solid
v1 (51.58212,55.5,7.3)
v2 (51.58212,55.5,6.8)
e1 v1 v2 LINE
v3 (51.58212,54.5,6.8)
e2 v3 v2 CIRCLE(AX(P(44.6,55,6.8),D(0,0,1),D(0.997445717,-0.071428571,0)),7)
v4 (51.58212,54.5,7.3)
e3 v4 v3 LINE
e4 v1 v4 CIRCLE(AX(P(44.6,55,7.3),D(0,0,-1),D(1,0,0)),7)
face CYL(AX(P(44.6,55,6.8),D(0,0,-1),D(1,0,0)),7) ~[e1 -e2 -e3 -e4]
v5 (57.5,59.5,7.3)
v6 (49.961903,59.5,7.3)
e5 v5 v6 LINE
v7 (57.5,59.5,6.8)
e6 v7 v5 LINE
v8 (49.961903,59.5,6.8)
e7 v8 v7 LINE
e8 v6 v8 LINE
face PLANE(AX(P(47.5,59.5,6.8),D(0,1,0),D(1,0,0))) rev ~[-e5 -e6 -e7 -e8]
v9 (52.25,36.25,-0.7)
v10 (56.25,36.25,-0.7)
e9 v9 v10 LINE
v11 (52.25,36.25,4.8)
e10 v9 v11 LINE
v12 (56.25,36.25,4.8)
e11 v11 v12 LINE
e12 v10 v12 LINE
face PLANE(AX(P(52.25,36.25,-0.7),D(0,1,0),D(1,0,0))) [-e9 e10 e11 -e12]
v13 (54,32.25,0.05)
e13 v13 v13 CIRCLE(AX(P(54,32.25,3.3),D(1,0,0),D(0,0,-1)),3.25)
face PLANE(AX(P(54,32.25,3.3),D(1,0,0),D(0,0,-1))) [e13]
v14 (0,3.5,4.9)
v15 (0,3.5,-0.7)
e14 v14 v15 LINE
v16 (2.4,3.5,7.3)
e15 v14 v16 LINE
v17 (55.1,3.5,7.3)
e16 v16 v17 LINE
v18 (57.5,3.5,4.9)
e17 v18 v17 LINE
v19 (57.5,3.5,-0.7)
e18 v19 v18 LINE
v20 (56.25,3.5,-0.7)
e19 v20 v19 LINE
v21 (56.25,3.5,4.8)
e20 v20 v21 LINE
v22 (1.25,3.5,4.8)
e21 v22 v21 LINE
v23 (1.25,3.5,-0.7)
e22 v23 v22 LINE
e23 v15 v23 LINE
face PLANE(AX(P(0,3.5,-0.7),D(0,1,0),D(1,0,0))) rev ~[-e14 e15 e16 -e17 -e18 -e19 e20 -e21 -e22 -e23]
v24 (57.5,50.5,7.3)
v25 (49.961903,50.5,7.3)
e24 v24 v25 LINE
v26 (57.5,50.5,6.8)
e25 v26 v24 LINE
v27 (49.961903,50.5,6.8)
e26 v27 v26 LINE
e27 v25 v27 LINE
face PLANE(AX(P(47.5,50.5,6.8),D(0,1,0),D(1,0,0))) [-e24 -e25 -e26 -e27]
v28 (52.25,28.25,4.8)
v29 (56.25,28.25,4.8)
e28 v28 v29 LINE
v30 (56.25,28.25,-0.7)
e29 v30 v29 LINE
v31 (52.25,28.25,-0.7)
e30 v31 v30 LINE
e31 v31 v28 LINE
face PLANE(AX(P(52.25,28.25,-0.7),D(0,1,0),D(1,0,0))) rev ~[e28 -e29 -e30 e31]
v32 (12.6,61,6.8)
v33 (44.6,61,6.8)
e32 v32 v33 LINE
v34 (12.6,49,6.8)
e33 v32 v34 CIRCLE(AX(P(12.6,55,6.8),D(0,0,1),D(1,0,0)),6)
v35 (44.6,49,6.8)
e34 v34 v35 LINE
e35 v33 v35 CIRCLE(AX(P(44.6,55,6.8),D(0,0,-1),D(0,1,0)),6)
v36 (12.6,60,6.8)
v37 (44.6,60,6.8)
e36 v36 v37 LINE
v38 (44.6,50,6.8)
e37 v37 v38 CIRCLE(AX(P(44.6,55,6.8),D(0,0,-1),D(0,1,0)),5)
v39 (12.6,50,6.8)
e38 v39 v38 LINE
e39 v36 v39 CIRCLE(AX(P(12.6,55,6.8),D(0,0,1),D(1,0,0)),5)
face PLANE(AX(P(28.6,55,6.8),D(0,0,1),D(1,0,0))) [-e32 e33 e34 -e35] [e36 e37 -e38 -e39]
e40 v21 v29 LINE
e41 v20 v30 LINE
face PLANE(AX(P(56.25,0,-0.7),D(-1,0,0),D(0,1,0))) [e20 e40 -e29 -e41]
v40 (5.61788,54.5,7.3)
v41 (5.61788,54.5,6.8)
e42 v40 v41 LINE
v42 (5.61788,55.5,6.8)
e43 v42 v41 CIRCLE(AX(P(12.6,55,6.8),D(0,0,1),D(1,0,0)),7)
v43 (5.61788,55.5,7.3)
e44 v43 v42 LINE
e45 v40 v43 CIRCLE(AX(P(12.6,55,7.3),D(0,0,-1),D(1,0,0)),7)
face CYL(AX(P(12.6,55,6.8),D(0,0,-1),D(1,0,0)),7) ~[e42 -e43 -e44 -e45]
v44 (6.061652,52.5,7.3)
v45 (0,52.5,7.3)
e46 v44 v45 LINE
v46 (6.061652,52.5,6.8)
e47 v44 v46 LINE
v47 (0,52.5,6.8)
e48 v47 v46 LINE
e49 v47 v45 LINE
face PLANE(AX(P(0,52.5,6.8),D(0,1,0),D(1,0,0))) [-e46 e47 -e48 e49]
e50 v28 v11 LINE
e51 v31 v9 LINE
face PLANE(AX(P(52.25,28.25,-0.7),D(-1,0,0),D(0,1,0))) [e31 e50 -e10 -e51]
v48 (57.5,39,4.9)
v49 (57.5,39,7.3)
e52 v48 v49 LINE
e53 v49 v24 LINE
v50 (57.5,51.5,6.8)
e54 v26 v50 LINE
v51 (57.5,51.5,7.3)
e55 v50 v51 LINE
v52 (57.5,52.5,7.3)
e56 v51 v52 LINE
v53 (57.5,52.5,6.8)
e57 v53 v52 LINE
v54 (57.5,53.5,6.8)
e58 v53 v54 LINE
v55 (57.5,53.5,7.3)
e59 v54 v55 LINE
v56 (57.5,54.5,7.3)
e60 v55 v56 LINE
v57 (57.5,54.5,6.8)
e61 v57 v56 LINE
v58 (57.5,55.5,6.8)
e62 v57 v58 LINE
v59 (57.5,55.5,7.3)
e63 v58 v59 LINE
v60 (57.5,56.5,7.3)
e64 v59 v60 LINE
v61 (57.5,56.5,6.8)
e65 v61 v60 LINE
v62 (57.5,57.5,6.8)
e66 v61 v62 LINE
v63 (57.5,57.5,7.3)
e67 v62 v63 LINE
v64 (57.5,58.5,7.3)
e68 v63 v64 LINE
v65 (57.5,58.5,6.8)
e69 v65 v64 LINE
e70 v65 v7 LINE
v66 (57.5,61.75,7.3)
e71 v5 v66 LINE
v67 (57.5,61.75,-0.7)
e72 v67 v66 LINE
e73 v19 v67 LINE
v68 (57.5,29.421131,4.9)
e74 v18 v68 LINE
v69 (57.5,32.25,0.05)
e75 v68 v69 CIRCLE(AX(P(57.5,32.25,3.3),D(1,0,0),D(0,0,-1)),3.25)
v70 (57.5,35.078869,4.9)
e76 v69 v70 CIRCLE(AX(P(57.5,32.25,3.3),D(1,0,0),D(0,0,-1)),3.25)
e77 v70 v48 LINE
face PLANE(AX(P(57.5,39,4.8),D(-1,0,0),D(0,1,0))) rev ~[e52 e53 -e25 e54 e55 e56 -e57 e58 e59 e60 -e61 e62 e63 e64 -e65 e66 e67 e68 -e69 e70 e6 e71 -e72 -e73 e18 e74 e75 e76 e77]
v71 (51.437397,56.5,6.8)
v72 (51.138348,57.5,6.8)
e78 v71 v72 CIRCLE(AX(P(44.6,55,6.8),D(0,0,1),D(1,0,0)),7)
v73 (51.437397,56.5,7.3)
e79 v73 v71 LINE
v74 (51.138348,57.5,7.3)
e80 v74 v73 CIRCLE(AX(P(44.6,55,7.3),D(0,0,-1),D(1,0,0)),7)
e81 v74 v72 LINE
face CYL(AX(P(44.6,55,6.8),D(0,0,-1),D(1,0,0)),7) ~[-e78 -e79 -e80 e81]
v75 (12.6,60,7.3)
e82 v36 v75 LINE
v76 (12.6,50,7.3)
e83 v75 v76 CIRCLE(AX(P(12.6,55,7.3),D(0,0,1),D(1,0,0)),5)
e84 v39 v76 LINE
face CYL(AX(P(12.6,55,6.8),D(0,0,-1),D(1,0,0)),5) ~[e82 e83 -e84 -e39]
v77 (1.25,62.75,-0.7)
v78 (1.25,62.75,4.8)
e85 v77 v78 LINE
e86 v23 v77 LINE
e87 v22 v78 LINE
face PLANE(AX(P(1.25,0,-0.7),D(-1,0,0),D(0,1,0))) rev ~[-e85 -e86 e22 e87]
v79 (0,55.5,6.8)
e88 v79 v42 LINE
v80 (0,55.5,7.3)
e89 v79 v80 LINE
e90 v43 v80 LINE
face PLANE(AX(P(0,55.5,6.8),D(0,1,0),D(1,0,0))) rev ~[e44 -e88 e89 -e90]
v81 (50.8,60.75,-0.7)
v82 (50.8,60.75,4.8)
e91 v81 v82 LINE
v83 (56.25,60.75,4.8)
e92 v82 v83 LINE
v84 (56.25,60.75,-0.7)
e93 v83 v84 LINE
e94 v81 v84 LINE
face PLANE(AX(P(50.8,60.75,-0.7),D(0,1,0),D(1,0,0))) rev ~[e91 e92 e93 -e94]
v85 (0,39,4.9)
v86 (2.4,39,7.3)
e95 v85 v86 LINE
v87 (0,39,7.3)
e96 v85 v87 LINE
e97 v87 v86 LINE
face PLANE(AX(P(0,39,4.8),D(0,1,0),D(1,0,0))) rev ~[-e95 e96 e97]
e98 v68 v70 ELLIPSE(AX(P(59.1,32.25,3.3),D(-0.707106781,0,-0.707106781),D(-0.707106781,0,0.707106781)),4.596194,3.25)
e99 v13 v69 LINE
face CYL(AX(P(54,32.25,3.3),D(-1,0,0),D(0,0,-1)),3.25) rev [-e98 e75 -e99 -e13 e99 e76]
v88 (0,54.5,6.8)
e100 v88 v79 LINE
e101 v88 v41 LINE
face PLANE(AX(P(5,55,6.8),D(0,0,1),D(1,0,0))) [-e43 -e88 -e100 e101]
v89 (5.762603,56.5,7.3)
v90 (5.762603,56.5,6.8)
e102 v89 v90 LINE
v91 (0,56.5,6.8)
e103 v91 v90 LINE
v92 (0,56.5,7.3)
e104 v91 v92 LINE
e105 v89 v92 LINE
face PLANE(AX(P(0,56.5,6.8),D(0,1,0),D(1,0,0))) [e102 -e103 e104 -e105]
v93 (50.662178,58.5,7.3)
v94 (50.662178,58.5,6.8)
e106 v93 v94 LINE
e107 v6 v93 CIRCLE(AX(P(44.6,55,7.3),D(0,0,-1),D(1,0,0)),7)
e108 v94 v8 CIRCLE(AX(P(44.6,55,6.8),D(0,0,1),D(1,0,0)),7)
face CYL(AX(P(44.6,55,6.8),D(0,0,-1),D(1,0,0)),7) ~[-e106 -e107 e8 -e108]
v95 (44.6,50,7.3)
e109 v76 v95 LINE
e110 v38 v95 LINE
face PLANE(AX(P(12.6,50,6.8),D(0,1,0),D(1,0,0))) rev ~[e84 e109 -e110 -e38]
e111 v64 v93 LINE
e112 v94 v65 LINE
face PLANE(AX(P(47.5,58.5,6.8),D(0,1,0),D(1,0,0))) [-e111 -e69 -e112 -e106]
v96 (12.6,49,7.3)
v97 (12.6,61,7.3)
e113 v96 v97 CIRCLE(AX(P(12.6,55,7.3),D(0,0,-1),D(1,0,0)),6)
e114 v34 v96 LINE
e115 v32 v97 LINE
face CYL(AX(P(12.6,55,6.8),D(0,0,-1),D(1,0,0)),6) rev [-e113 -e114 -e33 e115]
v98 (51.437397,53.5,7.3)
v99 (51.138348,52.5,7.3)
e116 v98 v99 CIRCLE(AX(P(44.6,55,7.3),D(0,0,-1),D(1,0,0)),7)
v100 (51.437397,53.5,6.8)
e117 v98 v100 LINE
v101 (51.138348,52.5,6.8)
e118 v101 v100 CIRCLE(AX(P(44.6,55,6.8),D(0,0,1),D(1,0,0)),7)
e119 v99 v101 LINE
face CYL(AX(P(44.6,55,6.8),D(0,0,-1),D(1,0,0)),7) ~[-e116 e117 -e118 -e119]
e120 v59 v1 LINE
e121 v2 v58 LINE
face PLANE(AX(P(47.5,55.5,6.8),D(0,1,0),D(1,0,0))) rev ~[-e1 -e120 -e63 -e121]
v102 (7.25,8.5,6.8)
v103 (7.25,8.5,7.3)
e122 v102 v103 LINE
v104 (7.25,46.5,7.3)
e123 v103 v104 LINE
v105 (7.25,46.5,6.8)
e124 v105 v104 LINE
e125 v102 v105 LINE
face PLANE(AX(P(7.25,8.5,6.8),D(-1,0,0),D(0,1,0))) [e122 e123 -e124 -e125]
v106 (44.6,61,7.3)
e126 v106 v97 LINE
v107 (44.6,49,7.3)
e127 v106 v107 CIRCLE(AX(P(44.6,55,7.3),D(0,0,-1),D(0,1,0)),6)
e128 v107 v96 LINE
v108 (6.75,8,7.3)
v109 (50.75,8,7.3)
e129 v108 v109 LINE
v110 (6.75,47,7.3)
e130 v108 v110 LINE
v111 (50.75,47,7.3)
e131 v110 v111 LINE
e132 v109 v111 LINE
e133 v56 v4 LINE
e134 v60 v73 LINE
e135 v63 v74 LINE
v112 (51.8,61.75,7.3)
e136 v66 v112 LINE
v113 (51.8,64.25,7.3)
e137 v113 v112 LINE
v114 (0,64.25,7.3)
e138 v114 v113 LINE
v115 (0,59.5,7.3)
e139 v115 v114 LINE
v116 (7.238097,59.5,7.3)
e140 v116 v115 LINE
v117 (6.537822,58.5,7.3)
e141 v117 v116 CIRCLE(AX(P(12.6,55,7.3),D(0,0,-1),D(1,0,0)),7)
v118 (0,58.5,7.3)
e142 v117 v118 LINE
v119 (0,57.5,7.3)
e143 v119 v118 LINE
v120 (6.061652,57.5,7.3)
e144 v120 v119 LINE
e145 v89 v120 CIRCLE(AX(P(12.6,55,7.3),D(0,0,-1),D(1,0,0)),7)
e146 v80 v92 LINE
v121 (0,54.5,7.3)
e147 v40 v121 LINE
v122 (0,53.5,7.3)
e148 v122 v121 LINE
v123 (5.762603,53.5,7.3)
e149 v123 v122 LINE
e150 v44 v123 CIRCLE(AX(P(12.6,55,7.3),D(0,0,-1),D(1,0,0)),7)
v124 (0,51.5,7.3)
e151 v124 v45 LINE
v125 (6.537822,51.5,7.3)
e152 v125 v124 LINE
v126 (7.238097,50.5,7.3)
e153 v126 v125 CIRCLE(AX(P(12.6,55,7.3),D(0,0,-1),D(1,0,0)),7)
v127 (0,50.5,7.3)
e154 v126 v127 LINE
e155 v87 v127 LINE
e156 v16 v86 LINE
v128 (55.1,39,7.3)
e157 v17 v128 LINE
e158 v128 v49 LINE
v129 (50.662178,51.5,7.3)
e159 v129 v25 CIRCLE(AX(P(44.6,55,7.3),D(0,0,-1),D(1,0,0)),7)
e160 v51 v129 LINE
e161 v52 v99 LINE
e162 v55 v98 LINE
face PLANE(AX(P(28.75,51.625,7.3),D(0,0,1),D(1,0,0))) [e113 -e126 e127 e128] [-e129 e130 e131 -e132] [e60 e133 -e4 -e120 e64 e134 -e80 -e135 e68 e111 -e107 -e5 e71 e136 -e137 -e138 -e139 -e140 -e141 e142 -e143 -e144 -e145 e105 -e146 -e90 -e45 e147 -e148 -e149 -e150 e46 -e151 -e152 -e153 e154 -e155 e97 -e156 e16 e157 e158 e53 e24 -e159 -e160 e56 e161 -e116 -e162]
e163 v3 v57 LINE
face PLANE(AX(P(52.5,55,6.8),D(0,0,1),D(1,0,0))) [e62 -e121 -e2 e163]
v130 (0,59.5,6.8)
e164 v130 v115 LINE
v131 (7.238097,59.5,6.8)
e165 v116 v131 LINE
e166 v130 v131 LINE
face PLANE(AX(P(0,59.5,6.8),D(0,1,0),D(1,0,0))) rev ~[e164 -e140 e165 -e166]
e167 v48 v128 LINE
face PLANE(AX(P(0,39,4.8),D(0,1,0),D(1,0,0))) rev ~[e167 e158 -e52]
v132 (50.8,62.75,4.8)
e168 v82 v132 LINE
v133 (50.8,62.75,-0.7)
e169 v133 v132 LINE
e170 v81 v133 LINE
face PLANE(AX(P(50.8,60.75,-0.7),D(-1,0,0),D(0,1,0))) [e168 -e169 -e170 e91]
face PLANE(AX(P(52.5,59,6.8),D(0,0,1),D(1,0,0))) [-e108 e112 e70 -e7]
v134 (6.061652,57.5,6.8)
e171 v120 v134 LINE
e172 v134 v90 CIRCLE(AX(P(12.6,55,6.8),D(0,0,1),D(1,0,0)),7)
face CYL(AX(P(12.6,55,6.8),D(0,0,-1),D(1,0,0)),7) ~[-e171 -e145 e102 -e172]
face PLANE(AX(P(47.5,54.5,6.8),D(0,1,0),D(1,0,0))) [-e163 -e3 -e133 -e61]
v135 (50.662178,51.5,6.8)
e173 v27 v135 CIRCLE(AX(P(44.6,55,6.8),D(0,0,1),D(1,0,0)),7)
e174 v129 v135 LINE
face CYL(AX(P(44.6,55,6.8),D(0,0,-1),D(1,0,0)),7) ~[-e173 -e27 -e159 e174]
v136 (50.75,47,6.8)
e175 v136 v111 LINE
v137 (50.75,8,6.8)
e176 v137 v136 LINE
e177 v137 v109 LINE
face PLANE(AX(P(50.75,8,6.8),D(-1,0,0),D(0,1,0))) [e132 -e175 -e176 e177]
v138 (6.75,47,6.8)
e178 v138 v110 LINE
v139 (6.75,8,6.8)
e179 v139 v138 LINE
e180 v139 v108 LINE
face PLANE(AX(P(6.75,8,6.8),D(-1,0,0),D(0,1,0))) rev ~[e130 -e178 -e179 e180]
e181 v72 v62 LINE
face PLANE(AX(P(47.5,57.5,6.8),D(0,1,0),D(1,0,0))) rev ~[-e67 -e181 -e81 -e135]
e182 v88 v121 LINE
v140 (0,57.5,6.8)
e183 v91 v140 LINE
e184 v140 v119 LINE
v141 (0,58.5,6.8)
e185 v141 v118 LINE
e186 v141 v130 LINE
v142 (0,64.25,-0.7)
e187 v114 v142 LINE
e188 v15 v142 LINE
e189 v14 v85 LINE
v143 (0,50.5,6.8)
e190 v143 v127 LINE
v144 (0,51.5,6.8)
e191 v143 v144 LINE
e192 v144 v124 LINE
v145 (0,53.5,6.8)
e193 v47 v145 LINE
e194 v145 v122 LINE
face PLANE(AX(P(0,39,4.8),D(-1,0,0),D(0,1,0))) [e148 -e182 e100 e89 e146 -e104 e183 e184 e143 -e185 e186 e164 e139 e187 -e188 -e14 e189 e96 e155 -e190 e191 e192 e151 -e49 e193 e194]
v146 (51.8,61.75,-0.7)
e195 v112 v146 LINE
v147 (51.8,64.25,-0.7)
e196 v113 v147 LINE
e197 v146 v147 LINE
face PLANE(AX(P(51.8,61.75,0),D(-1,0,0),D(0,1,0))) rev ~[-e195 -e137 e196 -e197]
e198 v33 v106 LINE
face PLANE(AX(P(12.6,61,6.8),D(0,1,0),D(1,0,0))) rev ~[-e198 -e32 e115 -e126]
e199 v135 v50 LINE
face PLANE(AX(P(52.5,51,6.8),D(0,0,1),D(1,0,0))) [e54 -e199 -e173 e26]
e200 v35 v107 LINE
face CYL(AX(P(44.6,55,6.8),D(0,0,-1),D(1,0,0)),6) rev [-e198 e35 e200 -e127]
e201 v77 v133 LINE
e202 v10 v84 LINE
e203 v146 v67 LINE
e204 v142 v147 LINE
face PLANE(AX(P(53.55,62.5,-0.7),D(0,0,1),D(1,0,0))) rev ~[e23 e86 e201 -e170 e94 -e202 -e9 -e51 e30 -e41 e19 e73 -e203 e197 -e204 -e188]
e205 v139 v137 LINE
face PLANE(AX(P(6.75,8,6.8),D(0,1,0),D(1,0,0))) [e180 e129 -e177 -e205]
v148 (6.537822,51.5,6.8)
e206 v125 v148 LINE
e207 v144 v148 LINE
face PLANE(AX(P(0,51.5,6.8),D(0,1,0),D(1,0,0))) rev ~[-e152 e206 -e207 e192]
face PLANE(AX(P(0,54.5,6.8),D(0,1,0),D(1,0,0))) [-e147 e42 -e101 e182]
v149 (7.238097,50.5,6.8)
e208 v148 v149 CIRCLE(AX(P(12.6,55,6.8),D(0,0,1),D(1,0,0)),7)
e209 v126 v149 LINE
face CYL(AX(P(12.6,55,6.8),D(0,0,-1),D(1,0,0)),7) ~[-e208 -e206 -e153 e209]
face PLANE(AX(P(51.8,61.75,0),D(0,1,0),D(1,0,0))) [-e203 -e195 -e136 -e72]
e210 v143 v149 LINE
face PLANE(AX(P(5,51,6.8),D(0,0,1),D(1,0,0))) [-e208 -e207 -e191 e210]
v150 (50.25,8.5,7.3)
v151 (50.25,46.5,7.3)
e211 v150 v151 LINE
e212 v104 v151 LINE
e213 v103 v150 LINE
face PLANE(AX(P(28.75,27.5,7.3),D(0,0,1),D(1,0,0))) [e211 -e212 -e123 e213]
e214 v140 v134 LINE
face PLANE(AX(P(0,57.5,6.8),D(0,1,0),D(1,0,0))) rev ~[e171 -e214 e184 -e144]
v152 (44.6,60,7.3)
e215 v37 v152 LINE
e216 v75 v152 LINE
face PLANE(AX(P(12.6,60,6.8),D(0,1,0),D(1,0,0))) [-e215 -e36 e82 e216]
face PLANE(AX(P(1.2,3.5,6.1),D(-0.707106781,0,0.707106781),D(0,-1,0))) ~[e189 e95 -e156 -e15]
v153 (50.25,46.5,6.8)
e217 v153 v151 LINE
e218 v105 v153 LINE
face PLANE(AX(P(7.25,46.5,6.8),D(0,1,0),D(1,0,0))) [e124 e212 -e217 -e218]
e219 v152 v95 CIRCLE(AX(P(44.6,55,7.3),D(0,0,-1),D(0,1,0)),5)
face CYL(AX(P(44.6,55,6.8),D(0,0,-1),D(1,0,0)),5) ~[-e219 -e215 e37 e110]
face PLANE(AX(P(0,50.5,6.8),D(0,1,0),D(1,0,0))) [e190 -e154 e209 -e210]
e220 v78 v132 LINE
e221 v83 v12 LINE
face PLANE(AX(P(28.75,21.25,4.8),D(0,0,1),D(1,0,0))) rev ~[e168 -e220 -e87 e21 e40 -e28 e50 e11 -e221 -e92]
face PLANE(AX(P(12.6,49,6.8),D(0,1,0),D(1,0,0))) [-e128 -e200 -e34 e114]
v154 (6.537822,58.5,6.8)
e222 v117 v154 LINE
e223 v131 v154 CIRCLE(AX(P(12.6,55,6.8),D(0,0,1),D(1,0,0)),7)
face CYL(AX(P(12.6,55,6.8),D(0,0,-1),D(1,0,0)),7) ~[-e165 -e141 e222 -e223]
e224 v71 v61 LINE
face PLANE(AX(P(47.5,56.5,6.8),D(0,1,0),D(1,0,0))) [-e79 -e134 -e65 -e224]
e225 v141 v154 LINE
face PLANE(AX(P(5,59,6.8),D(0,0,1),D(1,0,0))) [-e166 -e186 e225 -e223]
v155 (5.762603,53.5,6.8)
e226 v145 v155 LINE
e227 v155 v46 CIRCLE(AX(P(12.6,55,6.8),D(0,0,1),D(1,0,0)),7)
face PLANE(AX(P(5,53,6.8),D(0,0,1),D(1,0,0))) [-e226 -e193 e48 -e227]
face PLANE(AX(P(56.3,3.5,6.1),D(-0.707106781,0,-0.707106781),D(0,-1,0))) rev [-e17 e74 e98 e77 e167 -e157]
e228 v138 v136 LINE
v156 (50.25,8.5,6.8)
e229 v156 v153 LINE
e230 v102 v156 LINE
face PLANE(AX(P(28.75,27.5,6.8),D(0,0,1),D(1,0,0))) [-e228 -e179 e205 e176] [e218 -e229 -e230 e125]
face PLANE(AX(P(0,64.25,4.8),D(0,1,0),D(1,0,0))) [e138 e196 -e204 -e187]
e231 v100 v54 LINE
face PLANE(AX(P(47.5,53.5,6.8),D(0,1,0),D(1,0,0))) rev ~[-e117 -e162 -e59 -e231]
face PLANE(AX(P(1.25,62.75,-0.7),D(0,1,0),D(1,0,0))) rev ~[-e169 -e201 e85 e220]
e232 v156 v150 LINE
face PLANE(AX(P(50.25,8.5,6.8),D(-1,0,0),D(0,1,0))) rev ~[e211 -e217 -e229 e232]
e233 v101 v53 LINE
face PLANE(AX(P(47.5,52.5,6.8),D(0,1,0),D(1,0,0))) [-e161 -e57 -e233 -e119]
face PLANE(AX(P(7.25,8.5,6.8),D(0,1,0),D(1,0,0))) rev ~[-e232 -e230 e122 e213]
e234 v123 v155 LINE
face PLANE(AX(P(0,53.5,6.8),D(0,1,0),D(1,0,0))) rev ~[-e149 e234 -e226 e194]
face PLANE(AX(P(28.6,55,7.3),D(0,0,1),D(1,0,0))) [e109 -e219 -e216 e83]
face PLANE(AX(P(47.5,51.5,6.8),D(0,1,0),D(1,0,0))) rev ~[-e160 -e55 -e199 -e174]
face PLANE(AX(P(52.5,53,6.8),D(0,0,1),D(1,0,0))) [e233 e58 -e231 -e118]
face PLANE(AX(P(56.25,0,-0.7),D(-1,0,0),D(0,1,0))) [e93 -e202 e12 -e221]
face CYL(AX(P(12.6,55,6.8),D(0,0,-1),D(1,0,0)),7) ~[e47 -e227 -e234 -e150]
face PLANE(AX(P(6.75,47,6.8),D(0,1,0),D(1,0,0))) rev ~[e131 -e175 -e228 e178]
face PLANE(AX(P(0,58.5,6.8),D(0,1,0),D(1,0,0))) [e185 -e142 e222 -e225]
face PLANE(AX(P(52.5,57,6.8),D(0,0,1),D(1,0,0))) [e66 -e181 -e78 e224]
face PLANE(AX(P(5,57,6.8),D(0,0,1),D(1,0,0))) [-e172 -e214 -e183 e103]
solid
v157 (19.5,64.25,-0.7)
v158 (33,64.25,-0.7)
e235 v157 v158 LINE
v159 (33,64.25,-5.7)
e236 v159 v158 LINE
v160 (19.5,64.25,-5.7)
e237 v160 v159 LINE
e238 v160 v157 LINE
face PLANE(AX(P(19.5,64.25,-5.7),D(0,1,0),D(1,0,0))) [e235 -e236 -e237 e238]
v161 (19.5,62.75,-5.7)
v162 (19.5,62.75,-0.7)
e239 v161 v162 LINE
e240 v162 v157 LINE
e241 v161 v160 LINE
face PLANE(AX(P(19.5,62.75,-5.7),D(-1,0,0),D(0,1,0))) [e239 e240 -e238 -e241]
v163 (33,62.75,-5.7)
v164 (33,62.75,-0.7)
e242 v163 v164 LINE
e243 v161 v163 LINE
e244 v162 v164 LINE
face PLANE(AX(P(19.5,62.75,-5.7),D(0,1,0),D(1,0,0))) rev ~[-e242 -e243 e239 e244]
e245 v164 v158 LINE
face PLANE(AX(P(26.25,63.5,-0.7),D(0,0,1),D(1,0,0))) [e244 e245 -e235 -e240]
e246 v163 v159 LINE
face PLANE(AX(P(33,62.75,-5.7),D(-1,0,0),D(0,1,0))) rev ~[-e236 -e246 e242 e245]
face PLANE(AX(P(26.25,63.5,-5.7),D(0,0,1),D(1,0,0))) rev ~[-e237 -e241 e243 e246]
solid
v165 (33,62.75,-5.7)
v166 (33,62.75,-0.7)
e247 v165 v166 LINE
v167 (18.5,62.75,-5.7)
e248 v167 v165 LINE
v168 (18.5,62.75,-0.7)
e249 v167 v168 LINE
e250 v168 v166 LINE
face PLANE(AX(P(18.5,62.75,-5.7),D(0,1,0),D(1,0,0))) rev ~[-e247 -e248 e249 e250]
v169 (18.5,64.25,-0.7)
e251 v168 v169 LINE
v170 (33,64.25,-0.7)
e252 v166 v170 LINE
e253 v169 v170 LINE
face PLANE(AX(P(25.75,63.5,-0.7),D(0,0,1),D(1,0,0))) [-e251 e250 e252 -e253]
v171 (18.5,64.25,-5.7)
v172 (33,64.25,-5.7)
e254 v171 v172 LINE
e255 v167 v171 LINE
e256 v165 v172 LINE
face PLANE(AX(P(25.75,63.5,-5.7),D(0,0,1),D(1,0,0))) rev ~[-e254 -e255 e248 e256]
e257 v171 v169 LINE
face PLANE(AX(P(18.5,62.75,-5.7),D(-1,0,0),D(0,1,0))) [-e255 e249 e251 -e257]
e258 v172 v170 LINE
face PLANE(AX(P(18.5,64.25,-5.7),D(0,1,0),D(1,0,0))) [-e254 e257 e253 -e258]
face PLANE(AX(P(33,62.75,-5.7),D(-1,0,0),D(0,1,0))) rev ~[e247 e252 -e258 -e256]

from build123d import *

# Parameters (mm, degrees)
BOX056_W          = 13.5
BOX056_H          = 1.5
BOX056_DEPTH      = 5
BOX017_W          = 43
BOX017_H          = 38
BOX017_DEPTH      = 0.5
BOX041_W          = 44
BOX041_H          = 39
BOX041_DEPTH      = 0.5
CYLINDER_R        = 3.25
CYLINDER_DEPTH    = 3.5
BOX008_W          = 57.5
BOX008_H          = 35.5
BOX008_DEPTH      = 2.5
CHAMFER_SIZE      = 2.4
BOX001_W          = 5.7
BOX001_H          = 2.5
BOX001_DEPTH      = 6
BOX003_W          = 5.5
BOX003_H          = 3.5
BOX003_DEPTH      = 6
BOX002_W          = 55
BOX002_H          = 62.75
BOX002_DEPTH      = 5.5
BOX_W             = 57.5
BOX_H             = 60.75
BOX_DEPTH         = 5.5
CYLINDER011_R     = 5
CYLINDER011_DEPTH = 0.5
BOX055_W          = 32
BOX055_H          = 10
BOX055_DEPTH      = 0.5
CYLINDER010_R     = 5
CYLINDER010_DEPTH = 0.5
BOX044_W          = 32
BOX044_H          = 12
BOX044_DEPTH      = 1
CYLINDER007_R     = 6
CYLINDER007_DEPTH = 1
CYLINDER006_R     = 6
CYLINDER006_DEPTH = 1
CYLINDER008_R     = 7
CYLINDER008_DEPTH = 1
BOX047_W          = 10
BOX047_H          = 1
BOX047_DEPTH      = 1
BOX049_W          = 10
BOX049_H          = 1
BOX049_DEPTH      = 1
BOX048_W          = 10
BOX048_H          = 1
BOX048_DEPTH      = 1
BOX046_W          = 10
BOX046_H          = 1
BOX046_DEPTH      = 1
BOX045_W          = 10
BOX045_H          = 1
BOX045_DEPTH      = 1
CYLINDER009_R     = 7
CYLINDER009_DEPTH = 1
BOX051_W          = 10
BOX051_H          = 1
BOX051_DEPTH      = 1
BOX054_W          = 10
BOX054_H          = 1
BOX054_DEPTH      = 1
BOX053_W          = 10
BOX053_H          = 1
BOX053_DEPTH      = 1
BOX052_W          = 10
BOX052_H          = 1
BOX052_DEPTH      = 1
BOX050_W          = 10
BOX050_H          = 1
BOX050_DEPTH      = 1
BOX010_W          = 10
BOX010_H          = 10
BOX010_DEPTH      = 10
BOX007_W          = 57.5
BOX007_H          = 25.25
BOX007_DEPTH      = 2.5
BOX057_W          = 4
BOX057_H          = 8
BOX057_DEPTH      = 6
BOX058_W          = 14.5
BOX058_H          = 1.5
BOX058_DEPTH      = 5


with BuildPart() as cube_sd_card_cover:
    # Box056 → Box056 (new body)
    with BuildSketch(Plane(origin=(19.5, 62.75, -5.7), x_dir=(1, 0, 0), z_dir=(0, 0, 1))):
        with Locations((6.75, 0.75)):
            Rectangle(BOX056_W, BOX056_H)
    extrude(amount=BOX056_DEPTH)


with BuildPart() as cube_game_lable_inner:
    # Box017 → Box017 (new body)
    with BuildSketch(Plane(origin=(7.25, 8.5, 6.8), x_dir=(1, 0, 0), z_dir=(0, 0, 1))):
        with Locations((21.5, 19)):
            Rectangle(BOX017_W, BOX017_H)
    extrude(amount=BOX017_DEPTH)


with BuildPart() as cube_game_lable_outer:
    # Box041 → Box041 (new body)
    with BuildSketch(Plane(origin=(6.75, 8, 6.8), x_dir=(1, 0, 0), z_dir=(0, 0, 1))):
        with Locations((22, 19.5)):
            Rectangle(BOX041_W, BOX041_H)
    extrude(amount=BOX041_DEPTH)


with BuildPart() as cylinder_magnet:
    # Cylinder → Cylinder (new body)
    with BuildSketch(Plane(origin=(54, 32.25, 3.3), x_dir=(0, 0, -1), z_dir=(1, 0, 0))):
        Circle(CYLINDER_R)
    extrude(amount=CYLINDER_DEPTH)


with BuildPart() as chamfer_body:
    # Box008 → Box008 (new body)
    with BuildSketch(Plane(origin=(0, 3.5, 4.8), x_dir=(1, 0, 0), z_dir=(0, 0, 1))):
        with Locations((28.75, 17.75)):
            Rectangle(BOX008_W, BOX008_H)
    extrude(amount=BOX008_DEPTH)

    # Chamfer
    chamfer_edges = [chamfer_body.edges().sort_by_distance(p)[0] for p in [
        (0, 21.25, 7.3),
        (57.5, 21.25, 7.3),
    ]]
    chamfer(chamfer_edges, length=CHAMFER_SIZE)


with BuildPart() as cube_corner_inner:
    # Box001 → Box001 (new body)
    with BuildSketch(Plane(origin=(51.8, 61.75, -0.7), x_dir=(1, 0, 0), z_dir=(0, 0, 1))):
        with Locations((2.85, 1.25)):
            Rectangle(BOX001_W, BOX001_H)
    extrude(amount=BOX001_DEPTH)


with BuildPart() as cube_corner_outer:
    # Box003 → Box003 (new body)
    with BuildSketch(Plane(origin=(50.8, 60.75, -0.7), x_dir=(1, 0, 0), z_dir=(0, 0, 1))):
        with Locations((2.75, 1.75)):
            Rectangle(BOX003_W, BOX003_H)
    extrude(amount=BOX003_DEPTH)


with BuildPart() as cube_inner_base:
    # Box002 → Box002 (new body)
    with BuildSketch(Plane(origin=(1.25, 0, -0.7), x_dir=(1, 0, 0), z_dir=(0, 0, 1))):
        with Locations((27.5, 31.375)):
            Rectangle(BOX002_W, BOX002_H)
    extrude(amount=BOX002_DEPTH)


with BuildPart() as cut024:
    # Box → Box (new body)
    with BuildSketch(Plane(origin=(0, 3.5, -0.7), x_dir=(1, 0, 0), z_dir=(0, 0, 1))):
        with Locations((28.75, 30.375)):
            Rectangle(BOX_W, BOX_H)
    extrude(amount=BOX_DEPTH)

    # Cut: cut Cube(inner_base)
    add(cube_inner_base.part, mode=Mode.SUBTRACT)

    # Fusion: union Cube(corner_outer)
    add(cube_corner_outer.part)

    # Cut024: cut Cube(corner_inner)
    add(cube_corner_inner.part, mode=Mode.SUBTRACT)


with BuildPart() as cylinder002_right_nintendo_inner:
    # Cylinder011 → Cylinder011 (new body)
    with BuildSketch(Plane(origin=(44.6, 55, 6.8), x_dir=(1, 0, 0), z_dir=(0, 0, 1))):
        Circle(CYLINDER011_R)
    extrude(amount=CYLINDER011_DEPTH)


with BuildPart() as cube_middle_nintendo_inner:
    # Box055 → Box055 (new body)
    with BuildSketch(Plane(origin=(12.6, 50, 6.8), x_dir=(1, 0, 0), z_dir=(0, 0, 1))):
        with Locations((16, 5)):
            Rectangle(BOX055_W, BOX055_H)
    extrude(amount=BOX055_DEPTH)


with BuildPart() as fusion033:
    # Cylinder010 → Cylinder010 (new body)
    with BuildSketch(Plane(origin=(12.6, 55, 6.8), x_dir=(1, 0, 0), z_dir=(0, 0, 1))):
        Circle(CYLINDER010_R)
    extrude(amount=CYLINDER010_DEPTH)

    # Fusion033: union Cylinder002(right_nintendo_inner), Cube(middle_nintendo_inner)
    add(cylinder002_right_nintendo_inner.part)
    add(cube_middle_nintendo_inner.part)


with BuildPart() as cube_middle_nintendo_outer:
    # Box044 → Box044 (new body)
    with BuildSketch(Plane(origin=(12.6, 49, 6.8), x_dir=(1, 0, 0), z_dir=(0, 0, 1))):
        with Locations((16, 6)):
            Rectangle(BOX044_W, BOX044_H)
    extrude(amount=BOX044_DEPTH)


with BuildPart() as cylinder002_right_nintendo_outer:
    # Cylinder007 → Cylinder007 (new body)
    with BuildSketch(Plane(origin=(44.6, 55, 6.8), x_dir=(1, 0, 0), z_dir=(0, 0, 1))):
        Circle(CYLINDER007_R)
    extrude(amount=CYLINDER007_DEPTH)


with BuildPart() as cylinder001_left_nintendo_outer:
    # Cylinder006 → Cylinder006 (new body)
    with BuildSketch(Plane(origin=(12.6, 55, 6.8), x_dir=(1, 0, 0), z_dir=(0, 0, 1))):
        Circle(CYLINDER006_R)
    extrude(amount=CYLINDER006_DEPTH)


with BuildPart() as cylinder001_left_nintendo_fin_cut:
    # Cylinder008 → Cylinder008 (new body)
    with BuildSketch(Plane(origin=(12.6, 55, 6.8), x_dir=(1, 0, 0), z_dir=(0, 0, 1))):
        Circle(CYLINDER008_R)
    extrude(amount=CYLINDER008_DEPTH)


with BuildPart() as box047:
    # Box047 → Box047 (new body)
    with BuildSketch(Plane(origin=(0, 54.5, 6.8), x_dir=(1, 0, 0), z_dir=(0, 0, 1))):
        with Locations((5, 0.5)):
            Rectangle(BOX047_W, BOX047_H)
    extrude(amount=BOX047_DEPTH)


with BuildPart() as box049:
    # Box049 → Box049 (new body)
    with BuildSketch(Plane(origin=(0, 58.5, 6.8), x_dir=(1, 0, 0), z_dir=(0, 0, 1))):
        with Locations((5, 0.5)):
            Rectangle(BOX049_W, BOX049_H)
    extrude(amount=BOX049_DEPTH)


with BuildPart() as box048:
    # Box048 → Box048 (new body)
    with BuildSketch(Plane(origin=(0, 56.5, 6.8), x_dir=(1, 0, 0), z_dir=(0, 0, 1))):
        with Locations((5, 0.5)):
            Rectangle(BOX048_W, BOX048_H)
    extrude(amount=BOX048_DEPTH)


with BuildPart() as box046:
    # Box046 → Box046 (new body)
    with BuildSketch(Plane(origin=(0, 52.5, 6.8), x_dir=(1, 0, 0), z_dir=(0, 0, 1))):
        with Locations((5, 0.5)):
            Rectangle(BOX046_W, BOX046_H)
    extrude(amount=BOX046_DEPTH)


with BuildPart() as cut009:
    # Box045 → Box045 (new body)
    with BuildSketch(Plane(origin=(0, 50.5, 6.8), x_dir=(1, 0, 0), z_dir=(0, 0, 1))):
        with Locations((5, 0.5)):
            Rectangle(BOX045_W, BOX045_H)
    extrude(amount=BOX045_DEPTH)

    # Fusion004: union Box047, Box049, Box048, Box046
    add(box047.part)
    add(box049.part)
    add(box048.part)
    add(box046.part)

    # Cut009: cut Cylinder001(left_nintendo_fin_cut)
    add(cylinder001_left_nintendo_fin_cut.part, mode=Mode.SUBTRACT)


with BuildPart() as cylinder002_right_nintendo_fin_cut:
    # Cylinder009 → Cylinder009 (new body)
    with BuildSketch(Plane(origin=(44.6, 55, 6.8), x_dir=(1, 0, 0), z_dir=(0, 0, 1))):
        Circle(CYLINDER009_R)
    extrude(amount=CYLINDER009_DEPTH)


with BuildPart() as box051:
    # Box051 → Box051 (new body)
    with BuildSketch(Plane(origin=(47.5, 54.5, 6.8), x_dir=(1, 0, 0), z_dir=(0, 0, 1))):
        with Locations((5, 0.5)):
            Rectangle(BOX051_W, BOX051_H)
    extrude(amount=BOX051_DEPTH)


with BuildPart() as box054:
    # Box054 → Box054 (new body)
    with BuildSketch(Plane(origin=(47.5, 52.5, 6.8), x_dir=(1, 0, 0), z_dir=(0, 0, 1))):
        with Locations((5, 0.5)):
            Rectangle(BOX054_W, BOX054_H)
    extrude(amount=BOX054_DEPTH)


with BuildPart() as box053:
    # Box053 → Box053 (new body)
    with BuildSketch(Plane(origin=(47.5, 56.5, 6.8), x_dir=(1, 0, 0), z_dir=(0, 0, 1))):
        with Locations((5, 0.5)):
            Rectangle(BOX053_W, BOX053_H)
    extrude(amount=BOX053_DEPTH)


with BuildPart() as box052:
    # Box052 → Box052 (new body)
    with BuildSketch(Plane(origin=(47.5, 58.5, 6.8), x_dir=(1, 0, 0), z_dir=(0, 0, 1))):
        with Locations((5, 0.5)):
            Rectangle(BOX052_W, BOX052_H)
    extrude(amount=BOX052_DEPTH)


with BuildPart() as cut008:
    # Box050 → Box050 (new body)
    with BuildSketch(Plane(origin=(47.5, 50.5, 6.8), x_dir=(1, 0, 0), z_dir=(0, 0, 1))):
        with Locations((5, 0.5)):
            Rectangle(BOX050_W, BOX050_H)
    extrude(amount=BOX050_DEPTH)

    # Fusion003: union Box051, Box054, Box053, Box052
    add(box051.part)
    add(box054.part)
    add(box053.part)
    add(box052.part)

    # Cut008: cut Cylinder002(right_nintendo_fin_cut)
    add(cylinder002_right_nintendo_fin_cut.part, mode=Mode.SUBTRACT)


with BuildPart() as cube_top_corner_cut:
    # Box010 → Box010 (new body)
    with BuildSketch(Plane(origin=(51.8, 61.75, 0), x_dir=(1, 0, 0), z_dir=(0, 0, 1))):
        with Locations((5, 5)):
            Rectangle(BOX010_W, BOX010_H)
    extrude(amount=BOX010_DEPTH)


with BuildPart() as cut014:
    # Box007 → Box007 (new body)
    with BuildSketch(Plane(origin=(0, 39, 4.8), x_dir=(1, 0, 0), z_dir=(0, 0, 1))):
        with Locations((28.75, 12.625)):
            Rectangle(BOX007_W, BOX007_H)
    extrude(amount=BOX007_DEPTH)

    # Cut006: cut Cube(top_corner_cut)
    add(cube_top_corner_cut.part, mode=Mode.SUBTRACT)

    # Cut010: cut Cut008
    add(cut008.part, mode=Mode.SUBTRACT)

    # Cut011: cut Cut009
    add(cut009.part, mode=Mode.SUBTRACT)

    # Cut012: cut Cylinder001(left_nintendo_outer)
    add(cylinder001_left_nintendo_outer.part, mode=Mode.SUBTRACT)

    # Cut013: cut Cylinder002(right_nintendo_outer)
    add(cylinder002_right_nintendo_outer.part, mode=Mode.SUBTRACT)

    # Cut014: cut Cube(middle_nintendo_outer)
    add(cube_middle_nintendo_outer.part, mode=Mode.SUBTRACT)


with BuildPart() as fusion035:
    # Box057 → Box057 (new body)
    with BuildSketch(Plane(origin=(52.25, 28.25, -0.7), x_dir=(1, 0, 0), z_dir=(0, 0, 1))):
        with Locations((2, 4)):
            Rectangle(BOX057_W, BOX057_H)
    extrude(amount=BOX057_DEPTH)

    # Fusion034: union Chamfer body, Cut024, Fusion033, Cut014
    add(chamfer_body.part)
    add(cut024.part)
    add(fusion033.part)
    add(cut014.part)

    # Cut025: cut Cylinder(magnet)
    add(cylinder_magnet.part, mode=Mode.SUBTRACT)

    # Cut026: cut Cube(game_lable_outer)
    add(cube_game_lable_outer.part, mode=Mode.SUBTRACT)

    # Fusion035: union Cube(game_lable_inner)
    add(cube_game_lable_inner.part)


with BuildPart() as box058:
    # Box058 → Box058 (new body)
    with BuildSketch(Plane(origin=(18.5, 62.75, -5.7), x_dir=(1, 0, 0), z_dir=(0, 0, 1))):
        with Locations((7.25, 0.75)):
            Rectangle(BOX058_W, BOX058_H)
    extrude(amount=BOX058_DEPTH)


solid = Compound([cube_sd_card_cover.part, fusion035.part, box058.part])
